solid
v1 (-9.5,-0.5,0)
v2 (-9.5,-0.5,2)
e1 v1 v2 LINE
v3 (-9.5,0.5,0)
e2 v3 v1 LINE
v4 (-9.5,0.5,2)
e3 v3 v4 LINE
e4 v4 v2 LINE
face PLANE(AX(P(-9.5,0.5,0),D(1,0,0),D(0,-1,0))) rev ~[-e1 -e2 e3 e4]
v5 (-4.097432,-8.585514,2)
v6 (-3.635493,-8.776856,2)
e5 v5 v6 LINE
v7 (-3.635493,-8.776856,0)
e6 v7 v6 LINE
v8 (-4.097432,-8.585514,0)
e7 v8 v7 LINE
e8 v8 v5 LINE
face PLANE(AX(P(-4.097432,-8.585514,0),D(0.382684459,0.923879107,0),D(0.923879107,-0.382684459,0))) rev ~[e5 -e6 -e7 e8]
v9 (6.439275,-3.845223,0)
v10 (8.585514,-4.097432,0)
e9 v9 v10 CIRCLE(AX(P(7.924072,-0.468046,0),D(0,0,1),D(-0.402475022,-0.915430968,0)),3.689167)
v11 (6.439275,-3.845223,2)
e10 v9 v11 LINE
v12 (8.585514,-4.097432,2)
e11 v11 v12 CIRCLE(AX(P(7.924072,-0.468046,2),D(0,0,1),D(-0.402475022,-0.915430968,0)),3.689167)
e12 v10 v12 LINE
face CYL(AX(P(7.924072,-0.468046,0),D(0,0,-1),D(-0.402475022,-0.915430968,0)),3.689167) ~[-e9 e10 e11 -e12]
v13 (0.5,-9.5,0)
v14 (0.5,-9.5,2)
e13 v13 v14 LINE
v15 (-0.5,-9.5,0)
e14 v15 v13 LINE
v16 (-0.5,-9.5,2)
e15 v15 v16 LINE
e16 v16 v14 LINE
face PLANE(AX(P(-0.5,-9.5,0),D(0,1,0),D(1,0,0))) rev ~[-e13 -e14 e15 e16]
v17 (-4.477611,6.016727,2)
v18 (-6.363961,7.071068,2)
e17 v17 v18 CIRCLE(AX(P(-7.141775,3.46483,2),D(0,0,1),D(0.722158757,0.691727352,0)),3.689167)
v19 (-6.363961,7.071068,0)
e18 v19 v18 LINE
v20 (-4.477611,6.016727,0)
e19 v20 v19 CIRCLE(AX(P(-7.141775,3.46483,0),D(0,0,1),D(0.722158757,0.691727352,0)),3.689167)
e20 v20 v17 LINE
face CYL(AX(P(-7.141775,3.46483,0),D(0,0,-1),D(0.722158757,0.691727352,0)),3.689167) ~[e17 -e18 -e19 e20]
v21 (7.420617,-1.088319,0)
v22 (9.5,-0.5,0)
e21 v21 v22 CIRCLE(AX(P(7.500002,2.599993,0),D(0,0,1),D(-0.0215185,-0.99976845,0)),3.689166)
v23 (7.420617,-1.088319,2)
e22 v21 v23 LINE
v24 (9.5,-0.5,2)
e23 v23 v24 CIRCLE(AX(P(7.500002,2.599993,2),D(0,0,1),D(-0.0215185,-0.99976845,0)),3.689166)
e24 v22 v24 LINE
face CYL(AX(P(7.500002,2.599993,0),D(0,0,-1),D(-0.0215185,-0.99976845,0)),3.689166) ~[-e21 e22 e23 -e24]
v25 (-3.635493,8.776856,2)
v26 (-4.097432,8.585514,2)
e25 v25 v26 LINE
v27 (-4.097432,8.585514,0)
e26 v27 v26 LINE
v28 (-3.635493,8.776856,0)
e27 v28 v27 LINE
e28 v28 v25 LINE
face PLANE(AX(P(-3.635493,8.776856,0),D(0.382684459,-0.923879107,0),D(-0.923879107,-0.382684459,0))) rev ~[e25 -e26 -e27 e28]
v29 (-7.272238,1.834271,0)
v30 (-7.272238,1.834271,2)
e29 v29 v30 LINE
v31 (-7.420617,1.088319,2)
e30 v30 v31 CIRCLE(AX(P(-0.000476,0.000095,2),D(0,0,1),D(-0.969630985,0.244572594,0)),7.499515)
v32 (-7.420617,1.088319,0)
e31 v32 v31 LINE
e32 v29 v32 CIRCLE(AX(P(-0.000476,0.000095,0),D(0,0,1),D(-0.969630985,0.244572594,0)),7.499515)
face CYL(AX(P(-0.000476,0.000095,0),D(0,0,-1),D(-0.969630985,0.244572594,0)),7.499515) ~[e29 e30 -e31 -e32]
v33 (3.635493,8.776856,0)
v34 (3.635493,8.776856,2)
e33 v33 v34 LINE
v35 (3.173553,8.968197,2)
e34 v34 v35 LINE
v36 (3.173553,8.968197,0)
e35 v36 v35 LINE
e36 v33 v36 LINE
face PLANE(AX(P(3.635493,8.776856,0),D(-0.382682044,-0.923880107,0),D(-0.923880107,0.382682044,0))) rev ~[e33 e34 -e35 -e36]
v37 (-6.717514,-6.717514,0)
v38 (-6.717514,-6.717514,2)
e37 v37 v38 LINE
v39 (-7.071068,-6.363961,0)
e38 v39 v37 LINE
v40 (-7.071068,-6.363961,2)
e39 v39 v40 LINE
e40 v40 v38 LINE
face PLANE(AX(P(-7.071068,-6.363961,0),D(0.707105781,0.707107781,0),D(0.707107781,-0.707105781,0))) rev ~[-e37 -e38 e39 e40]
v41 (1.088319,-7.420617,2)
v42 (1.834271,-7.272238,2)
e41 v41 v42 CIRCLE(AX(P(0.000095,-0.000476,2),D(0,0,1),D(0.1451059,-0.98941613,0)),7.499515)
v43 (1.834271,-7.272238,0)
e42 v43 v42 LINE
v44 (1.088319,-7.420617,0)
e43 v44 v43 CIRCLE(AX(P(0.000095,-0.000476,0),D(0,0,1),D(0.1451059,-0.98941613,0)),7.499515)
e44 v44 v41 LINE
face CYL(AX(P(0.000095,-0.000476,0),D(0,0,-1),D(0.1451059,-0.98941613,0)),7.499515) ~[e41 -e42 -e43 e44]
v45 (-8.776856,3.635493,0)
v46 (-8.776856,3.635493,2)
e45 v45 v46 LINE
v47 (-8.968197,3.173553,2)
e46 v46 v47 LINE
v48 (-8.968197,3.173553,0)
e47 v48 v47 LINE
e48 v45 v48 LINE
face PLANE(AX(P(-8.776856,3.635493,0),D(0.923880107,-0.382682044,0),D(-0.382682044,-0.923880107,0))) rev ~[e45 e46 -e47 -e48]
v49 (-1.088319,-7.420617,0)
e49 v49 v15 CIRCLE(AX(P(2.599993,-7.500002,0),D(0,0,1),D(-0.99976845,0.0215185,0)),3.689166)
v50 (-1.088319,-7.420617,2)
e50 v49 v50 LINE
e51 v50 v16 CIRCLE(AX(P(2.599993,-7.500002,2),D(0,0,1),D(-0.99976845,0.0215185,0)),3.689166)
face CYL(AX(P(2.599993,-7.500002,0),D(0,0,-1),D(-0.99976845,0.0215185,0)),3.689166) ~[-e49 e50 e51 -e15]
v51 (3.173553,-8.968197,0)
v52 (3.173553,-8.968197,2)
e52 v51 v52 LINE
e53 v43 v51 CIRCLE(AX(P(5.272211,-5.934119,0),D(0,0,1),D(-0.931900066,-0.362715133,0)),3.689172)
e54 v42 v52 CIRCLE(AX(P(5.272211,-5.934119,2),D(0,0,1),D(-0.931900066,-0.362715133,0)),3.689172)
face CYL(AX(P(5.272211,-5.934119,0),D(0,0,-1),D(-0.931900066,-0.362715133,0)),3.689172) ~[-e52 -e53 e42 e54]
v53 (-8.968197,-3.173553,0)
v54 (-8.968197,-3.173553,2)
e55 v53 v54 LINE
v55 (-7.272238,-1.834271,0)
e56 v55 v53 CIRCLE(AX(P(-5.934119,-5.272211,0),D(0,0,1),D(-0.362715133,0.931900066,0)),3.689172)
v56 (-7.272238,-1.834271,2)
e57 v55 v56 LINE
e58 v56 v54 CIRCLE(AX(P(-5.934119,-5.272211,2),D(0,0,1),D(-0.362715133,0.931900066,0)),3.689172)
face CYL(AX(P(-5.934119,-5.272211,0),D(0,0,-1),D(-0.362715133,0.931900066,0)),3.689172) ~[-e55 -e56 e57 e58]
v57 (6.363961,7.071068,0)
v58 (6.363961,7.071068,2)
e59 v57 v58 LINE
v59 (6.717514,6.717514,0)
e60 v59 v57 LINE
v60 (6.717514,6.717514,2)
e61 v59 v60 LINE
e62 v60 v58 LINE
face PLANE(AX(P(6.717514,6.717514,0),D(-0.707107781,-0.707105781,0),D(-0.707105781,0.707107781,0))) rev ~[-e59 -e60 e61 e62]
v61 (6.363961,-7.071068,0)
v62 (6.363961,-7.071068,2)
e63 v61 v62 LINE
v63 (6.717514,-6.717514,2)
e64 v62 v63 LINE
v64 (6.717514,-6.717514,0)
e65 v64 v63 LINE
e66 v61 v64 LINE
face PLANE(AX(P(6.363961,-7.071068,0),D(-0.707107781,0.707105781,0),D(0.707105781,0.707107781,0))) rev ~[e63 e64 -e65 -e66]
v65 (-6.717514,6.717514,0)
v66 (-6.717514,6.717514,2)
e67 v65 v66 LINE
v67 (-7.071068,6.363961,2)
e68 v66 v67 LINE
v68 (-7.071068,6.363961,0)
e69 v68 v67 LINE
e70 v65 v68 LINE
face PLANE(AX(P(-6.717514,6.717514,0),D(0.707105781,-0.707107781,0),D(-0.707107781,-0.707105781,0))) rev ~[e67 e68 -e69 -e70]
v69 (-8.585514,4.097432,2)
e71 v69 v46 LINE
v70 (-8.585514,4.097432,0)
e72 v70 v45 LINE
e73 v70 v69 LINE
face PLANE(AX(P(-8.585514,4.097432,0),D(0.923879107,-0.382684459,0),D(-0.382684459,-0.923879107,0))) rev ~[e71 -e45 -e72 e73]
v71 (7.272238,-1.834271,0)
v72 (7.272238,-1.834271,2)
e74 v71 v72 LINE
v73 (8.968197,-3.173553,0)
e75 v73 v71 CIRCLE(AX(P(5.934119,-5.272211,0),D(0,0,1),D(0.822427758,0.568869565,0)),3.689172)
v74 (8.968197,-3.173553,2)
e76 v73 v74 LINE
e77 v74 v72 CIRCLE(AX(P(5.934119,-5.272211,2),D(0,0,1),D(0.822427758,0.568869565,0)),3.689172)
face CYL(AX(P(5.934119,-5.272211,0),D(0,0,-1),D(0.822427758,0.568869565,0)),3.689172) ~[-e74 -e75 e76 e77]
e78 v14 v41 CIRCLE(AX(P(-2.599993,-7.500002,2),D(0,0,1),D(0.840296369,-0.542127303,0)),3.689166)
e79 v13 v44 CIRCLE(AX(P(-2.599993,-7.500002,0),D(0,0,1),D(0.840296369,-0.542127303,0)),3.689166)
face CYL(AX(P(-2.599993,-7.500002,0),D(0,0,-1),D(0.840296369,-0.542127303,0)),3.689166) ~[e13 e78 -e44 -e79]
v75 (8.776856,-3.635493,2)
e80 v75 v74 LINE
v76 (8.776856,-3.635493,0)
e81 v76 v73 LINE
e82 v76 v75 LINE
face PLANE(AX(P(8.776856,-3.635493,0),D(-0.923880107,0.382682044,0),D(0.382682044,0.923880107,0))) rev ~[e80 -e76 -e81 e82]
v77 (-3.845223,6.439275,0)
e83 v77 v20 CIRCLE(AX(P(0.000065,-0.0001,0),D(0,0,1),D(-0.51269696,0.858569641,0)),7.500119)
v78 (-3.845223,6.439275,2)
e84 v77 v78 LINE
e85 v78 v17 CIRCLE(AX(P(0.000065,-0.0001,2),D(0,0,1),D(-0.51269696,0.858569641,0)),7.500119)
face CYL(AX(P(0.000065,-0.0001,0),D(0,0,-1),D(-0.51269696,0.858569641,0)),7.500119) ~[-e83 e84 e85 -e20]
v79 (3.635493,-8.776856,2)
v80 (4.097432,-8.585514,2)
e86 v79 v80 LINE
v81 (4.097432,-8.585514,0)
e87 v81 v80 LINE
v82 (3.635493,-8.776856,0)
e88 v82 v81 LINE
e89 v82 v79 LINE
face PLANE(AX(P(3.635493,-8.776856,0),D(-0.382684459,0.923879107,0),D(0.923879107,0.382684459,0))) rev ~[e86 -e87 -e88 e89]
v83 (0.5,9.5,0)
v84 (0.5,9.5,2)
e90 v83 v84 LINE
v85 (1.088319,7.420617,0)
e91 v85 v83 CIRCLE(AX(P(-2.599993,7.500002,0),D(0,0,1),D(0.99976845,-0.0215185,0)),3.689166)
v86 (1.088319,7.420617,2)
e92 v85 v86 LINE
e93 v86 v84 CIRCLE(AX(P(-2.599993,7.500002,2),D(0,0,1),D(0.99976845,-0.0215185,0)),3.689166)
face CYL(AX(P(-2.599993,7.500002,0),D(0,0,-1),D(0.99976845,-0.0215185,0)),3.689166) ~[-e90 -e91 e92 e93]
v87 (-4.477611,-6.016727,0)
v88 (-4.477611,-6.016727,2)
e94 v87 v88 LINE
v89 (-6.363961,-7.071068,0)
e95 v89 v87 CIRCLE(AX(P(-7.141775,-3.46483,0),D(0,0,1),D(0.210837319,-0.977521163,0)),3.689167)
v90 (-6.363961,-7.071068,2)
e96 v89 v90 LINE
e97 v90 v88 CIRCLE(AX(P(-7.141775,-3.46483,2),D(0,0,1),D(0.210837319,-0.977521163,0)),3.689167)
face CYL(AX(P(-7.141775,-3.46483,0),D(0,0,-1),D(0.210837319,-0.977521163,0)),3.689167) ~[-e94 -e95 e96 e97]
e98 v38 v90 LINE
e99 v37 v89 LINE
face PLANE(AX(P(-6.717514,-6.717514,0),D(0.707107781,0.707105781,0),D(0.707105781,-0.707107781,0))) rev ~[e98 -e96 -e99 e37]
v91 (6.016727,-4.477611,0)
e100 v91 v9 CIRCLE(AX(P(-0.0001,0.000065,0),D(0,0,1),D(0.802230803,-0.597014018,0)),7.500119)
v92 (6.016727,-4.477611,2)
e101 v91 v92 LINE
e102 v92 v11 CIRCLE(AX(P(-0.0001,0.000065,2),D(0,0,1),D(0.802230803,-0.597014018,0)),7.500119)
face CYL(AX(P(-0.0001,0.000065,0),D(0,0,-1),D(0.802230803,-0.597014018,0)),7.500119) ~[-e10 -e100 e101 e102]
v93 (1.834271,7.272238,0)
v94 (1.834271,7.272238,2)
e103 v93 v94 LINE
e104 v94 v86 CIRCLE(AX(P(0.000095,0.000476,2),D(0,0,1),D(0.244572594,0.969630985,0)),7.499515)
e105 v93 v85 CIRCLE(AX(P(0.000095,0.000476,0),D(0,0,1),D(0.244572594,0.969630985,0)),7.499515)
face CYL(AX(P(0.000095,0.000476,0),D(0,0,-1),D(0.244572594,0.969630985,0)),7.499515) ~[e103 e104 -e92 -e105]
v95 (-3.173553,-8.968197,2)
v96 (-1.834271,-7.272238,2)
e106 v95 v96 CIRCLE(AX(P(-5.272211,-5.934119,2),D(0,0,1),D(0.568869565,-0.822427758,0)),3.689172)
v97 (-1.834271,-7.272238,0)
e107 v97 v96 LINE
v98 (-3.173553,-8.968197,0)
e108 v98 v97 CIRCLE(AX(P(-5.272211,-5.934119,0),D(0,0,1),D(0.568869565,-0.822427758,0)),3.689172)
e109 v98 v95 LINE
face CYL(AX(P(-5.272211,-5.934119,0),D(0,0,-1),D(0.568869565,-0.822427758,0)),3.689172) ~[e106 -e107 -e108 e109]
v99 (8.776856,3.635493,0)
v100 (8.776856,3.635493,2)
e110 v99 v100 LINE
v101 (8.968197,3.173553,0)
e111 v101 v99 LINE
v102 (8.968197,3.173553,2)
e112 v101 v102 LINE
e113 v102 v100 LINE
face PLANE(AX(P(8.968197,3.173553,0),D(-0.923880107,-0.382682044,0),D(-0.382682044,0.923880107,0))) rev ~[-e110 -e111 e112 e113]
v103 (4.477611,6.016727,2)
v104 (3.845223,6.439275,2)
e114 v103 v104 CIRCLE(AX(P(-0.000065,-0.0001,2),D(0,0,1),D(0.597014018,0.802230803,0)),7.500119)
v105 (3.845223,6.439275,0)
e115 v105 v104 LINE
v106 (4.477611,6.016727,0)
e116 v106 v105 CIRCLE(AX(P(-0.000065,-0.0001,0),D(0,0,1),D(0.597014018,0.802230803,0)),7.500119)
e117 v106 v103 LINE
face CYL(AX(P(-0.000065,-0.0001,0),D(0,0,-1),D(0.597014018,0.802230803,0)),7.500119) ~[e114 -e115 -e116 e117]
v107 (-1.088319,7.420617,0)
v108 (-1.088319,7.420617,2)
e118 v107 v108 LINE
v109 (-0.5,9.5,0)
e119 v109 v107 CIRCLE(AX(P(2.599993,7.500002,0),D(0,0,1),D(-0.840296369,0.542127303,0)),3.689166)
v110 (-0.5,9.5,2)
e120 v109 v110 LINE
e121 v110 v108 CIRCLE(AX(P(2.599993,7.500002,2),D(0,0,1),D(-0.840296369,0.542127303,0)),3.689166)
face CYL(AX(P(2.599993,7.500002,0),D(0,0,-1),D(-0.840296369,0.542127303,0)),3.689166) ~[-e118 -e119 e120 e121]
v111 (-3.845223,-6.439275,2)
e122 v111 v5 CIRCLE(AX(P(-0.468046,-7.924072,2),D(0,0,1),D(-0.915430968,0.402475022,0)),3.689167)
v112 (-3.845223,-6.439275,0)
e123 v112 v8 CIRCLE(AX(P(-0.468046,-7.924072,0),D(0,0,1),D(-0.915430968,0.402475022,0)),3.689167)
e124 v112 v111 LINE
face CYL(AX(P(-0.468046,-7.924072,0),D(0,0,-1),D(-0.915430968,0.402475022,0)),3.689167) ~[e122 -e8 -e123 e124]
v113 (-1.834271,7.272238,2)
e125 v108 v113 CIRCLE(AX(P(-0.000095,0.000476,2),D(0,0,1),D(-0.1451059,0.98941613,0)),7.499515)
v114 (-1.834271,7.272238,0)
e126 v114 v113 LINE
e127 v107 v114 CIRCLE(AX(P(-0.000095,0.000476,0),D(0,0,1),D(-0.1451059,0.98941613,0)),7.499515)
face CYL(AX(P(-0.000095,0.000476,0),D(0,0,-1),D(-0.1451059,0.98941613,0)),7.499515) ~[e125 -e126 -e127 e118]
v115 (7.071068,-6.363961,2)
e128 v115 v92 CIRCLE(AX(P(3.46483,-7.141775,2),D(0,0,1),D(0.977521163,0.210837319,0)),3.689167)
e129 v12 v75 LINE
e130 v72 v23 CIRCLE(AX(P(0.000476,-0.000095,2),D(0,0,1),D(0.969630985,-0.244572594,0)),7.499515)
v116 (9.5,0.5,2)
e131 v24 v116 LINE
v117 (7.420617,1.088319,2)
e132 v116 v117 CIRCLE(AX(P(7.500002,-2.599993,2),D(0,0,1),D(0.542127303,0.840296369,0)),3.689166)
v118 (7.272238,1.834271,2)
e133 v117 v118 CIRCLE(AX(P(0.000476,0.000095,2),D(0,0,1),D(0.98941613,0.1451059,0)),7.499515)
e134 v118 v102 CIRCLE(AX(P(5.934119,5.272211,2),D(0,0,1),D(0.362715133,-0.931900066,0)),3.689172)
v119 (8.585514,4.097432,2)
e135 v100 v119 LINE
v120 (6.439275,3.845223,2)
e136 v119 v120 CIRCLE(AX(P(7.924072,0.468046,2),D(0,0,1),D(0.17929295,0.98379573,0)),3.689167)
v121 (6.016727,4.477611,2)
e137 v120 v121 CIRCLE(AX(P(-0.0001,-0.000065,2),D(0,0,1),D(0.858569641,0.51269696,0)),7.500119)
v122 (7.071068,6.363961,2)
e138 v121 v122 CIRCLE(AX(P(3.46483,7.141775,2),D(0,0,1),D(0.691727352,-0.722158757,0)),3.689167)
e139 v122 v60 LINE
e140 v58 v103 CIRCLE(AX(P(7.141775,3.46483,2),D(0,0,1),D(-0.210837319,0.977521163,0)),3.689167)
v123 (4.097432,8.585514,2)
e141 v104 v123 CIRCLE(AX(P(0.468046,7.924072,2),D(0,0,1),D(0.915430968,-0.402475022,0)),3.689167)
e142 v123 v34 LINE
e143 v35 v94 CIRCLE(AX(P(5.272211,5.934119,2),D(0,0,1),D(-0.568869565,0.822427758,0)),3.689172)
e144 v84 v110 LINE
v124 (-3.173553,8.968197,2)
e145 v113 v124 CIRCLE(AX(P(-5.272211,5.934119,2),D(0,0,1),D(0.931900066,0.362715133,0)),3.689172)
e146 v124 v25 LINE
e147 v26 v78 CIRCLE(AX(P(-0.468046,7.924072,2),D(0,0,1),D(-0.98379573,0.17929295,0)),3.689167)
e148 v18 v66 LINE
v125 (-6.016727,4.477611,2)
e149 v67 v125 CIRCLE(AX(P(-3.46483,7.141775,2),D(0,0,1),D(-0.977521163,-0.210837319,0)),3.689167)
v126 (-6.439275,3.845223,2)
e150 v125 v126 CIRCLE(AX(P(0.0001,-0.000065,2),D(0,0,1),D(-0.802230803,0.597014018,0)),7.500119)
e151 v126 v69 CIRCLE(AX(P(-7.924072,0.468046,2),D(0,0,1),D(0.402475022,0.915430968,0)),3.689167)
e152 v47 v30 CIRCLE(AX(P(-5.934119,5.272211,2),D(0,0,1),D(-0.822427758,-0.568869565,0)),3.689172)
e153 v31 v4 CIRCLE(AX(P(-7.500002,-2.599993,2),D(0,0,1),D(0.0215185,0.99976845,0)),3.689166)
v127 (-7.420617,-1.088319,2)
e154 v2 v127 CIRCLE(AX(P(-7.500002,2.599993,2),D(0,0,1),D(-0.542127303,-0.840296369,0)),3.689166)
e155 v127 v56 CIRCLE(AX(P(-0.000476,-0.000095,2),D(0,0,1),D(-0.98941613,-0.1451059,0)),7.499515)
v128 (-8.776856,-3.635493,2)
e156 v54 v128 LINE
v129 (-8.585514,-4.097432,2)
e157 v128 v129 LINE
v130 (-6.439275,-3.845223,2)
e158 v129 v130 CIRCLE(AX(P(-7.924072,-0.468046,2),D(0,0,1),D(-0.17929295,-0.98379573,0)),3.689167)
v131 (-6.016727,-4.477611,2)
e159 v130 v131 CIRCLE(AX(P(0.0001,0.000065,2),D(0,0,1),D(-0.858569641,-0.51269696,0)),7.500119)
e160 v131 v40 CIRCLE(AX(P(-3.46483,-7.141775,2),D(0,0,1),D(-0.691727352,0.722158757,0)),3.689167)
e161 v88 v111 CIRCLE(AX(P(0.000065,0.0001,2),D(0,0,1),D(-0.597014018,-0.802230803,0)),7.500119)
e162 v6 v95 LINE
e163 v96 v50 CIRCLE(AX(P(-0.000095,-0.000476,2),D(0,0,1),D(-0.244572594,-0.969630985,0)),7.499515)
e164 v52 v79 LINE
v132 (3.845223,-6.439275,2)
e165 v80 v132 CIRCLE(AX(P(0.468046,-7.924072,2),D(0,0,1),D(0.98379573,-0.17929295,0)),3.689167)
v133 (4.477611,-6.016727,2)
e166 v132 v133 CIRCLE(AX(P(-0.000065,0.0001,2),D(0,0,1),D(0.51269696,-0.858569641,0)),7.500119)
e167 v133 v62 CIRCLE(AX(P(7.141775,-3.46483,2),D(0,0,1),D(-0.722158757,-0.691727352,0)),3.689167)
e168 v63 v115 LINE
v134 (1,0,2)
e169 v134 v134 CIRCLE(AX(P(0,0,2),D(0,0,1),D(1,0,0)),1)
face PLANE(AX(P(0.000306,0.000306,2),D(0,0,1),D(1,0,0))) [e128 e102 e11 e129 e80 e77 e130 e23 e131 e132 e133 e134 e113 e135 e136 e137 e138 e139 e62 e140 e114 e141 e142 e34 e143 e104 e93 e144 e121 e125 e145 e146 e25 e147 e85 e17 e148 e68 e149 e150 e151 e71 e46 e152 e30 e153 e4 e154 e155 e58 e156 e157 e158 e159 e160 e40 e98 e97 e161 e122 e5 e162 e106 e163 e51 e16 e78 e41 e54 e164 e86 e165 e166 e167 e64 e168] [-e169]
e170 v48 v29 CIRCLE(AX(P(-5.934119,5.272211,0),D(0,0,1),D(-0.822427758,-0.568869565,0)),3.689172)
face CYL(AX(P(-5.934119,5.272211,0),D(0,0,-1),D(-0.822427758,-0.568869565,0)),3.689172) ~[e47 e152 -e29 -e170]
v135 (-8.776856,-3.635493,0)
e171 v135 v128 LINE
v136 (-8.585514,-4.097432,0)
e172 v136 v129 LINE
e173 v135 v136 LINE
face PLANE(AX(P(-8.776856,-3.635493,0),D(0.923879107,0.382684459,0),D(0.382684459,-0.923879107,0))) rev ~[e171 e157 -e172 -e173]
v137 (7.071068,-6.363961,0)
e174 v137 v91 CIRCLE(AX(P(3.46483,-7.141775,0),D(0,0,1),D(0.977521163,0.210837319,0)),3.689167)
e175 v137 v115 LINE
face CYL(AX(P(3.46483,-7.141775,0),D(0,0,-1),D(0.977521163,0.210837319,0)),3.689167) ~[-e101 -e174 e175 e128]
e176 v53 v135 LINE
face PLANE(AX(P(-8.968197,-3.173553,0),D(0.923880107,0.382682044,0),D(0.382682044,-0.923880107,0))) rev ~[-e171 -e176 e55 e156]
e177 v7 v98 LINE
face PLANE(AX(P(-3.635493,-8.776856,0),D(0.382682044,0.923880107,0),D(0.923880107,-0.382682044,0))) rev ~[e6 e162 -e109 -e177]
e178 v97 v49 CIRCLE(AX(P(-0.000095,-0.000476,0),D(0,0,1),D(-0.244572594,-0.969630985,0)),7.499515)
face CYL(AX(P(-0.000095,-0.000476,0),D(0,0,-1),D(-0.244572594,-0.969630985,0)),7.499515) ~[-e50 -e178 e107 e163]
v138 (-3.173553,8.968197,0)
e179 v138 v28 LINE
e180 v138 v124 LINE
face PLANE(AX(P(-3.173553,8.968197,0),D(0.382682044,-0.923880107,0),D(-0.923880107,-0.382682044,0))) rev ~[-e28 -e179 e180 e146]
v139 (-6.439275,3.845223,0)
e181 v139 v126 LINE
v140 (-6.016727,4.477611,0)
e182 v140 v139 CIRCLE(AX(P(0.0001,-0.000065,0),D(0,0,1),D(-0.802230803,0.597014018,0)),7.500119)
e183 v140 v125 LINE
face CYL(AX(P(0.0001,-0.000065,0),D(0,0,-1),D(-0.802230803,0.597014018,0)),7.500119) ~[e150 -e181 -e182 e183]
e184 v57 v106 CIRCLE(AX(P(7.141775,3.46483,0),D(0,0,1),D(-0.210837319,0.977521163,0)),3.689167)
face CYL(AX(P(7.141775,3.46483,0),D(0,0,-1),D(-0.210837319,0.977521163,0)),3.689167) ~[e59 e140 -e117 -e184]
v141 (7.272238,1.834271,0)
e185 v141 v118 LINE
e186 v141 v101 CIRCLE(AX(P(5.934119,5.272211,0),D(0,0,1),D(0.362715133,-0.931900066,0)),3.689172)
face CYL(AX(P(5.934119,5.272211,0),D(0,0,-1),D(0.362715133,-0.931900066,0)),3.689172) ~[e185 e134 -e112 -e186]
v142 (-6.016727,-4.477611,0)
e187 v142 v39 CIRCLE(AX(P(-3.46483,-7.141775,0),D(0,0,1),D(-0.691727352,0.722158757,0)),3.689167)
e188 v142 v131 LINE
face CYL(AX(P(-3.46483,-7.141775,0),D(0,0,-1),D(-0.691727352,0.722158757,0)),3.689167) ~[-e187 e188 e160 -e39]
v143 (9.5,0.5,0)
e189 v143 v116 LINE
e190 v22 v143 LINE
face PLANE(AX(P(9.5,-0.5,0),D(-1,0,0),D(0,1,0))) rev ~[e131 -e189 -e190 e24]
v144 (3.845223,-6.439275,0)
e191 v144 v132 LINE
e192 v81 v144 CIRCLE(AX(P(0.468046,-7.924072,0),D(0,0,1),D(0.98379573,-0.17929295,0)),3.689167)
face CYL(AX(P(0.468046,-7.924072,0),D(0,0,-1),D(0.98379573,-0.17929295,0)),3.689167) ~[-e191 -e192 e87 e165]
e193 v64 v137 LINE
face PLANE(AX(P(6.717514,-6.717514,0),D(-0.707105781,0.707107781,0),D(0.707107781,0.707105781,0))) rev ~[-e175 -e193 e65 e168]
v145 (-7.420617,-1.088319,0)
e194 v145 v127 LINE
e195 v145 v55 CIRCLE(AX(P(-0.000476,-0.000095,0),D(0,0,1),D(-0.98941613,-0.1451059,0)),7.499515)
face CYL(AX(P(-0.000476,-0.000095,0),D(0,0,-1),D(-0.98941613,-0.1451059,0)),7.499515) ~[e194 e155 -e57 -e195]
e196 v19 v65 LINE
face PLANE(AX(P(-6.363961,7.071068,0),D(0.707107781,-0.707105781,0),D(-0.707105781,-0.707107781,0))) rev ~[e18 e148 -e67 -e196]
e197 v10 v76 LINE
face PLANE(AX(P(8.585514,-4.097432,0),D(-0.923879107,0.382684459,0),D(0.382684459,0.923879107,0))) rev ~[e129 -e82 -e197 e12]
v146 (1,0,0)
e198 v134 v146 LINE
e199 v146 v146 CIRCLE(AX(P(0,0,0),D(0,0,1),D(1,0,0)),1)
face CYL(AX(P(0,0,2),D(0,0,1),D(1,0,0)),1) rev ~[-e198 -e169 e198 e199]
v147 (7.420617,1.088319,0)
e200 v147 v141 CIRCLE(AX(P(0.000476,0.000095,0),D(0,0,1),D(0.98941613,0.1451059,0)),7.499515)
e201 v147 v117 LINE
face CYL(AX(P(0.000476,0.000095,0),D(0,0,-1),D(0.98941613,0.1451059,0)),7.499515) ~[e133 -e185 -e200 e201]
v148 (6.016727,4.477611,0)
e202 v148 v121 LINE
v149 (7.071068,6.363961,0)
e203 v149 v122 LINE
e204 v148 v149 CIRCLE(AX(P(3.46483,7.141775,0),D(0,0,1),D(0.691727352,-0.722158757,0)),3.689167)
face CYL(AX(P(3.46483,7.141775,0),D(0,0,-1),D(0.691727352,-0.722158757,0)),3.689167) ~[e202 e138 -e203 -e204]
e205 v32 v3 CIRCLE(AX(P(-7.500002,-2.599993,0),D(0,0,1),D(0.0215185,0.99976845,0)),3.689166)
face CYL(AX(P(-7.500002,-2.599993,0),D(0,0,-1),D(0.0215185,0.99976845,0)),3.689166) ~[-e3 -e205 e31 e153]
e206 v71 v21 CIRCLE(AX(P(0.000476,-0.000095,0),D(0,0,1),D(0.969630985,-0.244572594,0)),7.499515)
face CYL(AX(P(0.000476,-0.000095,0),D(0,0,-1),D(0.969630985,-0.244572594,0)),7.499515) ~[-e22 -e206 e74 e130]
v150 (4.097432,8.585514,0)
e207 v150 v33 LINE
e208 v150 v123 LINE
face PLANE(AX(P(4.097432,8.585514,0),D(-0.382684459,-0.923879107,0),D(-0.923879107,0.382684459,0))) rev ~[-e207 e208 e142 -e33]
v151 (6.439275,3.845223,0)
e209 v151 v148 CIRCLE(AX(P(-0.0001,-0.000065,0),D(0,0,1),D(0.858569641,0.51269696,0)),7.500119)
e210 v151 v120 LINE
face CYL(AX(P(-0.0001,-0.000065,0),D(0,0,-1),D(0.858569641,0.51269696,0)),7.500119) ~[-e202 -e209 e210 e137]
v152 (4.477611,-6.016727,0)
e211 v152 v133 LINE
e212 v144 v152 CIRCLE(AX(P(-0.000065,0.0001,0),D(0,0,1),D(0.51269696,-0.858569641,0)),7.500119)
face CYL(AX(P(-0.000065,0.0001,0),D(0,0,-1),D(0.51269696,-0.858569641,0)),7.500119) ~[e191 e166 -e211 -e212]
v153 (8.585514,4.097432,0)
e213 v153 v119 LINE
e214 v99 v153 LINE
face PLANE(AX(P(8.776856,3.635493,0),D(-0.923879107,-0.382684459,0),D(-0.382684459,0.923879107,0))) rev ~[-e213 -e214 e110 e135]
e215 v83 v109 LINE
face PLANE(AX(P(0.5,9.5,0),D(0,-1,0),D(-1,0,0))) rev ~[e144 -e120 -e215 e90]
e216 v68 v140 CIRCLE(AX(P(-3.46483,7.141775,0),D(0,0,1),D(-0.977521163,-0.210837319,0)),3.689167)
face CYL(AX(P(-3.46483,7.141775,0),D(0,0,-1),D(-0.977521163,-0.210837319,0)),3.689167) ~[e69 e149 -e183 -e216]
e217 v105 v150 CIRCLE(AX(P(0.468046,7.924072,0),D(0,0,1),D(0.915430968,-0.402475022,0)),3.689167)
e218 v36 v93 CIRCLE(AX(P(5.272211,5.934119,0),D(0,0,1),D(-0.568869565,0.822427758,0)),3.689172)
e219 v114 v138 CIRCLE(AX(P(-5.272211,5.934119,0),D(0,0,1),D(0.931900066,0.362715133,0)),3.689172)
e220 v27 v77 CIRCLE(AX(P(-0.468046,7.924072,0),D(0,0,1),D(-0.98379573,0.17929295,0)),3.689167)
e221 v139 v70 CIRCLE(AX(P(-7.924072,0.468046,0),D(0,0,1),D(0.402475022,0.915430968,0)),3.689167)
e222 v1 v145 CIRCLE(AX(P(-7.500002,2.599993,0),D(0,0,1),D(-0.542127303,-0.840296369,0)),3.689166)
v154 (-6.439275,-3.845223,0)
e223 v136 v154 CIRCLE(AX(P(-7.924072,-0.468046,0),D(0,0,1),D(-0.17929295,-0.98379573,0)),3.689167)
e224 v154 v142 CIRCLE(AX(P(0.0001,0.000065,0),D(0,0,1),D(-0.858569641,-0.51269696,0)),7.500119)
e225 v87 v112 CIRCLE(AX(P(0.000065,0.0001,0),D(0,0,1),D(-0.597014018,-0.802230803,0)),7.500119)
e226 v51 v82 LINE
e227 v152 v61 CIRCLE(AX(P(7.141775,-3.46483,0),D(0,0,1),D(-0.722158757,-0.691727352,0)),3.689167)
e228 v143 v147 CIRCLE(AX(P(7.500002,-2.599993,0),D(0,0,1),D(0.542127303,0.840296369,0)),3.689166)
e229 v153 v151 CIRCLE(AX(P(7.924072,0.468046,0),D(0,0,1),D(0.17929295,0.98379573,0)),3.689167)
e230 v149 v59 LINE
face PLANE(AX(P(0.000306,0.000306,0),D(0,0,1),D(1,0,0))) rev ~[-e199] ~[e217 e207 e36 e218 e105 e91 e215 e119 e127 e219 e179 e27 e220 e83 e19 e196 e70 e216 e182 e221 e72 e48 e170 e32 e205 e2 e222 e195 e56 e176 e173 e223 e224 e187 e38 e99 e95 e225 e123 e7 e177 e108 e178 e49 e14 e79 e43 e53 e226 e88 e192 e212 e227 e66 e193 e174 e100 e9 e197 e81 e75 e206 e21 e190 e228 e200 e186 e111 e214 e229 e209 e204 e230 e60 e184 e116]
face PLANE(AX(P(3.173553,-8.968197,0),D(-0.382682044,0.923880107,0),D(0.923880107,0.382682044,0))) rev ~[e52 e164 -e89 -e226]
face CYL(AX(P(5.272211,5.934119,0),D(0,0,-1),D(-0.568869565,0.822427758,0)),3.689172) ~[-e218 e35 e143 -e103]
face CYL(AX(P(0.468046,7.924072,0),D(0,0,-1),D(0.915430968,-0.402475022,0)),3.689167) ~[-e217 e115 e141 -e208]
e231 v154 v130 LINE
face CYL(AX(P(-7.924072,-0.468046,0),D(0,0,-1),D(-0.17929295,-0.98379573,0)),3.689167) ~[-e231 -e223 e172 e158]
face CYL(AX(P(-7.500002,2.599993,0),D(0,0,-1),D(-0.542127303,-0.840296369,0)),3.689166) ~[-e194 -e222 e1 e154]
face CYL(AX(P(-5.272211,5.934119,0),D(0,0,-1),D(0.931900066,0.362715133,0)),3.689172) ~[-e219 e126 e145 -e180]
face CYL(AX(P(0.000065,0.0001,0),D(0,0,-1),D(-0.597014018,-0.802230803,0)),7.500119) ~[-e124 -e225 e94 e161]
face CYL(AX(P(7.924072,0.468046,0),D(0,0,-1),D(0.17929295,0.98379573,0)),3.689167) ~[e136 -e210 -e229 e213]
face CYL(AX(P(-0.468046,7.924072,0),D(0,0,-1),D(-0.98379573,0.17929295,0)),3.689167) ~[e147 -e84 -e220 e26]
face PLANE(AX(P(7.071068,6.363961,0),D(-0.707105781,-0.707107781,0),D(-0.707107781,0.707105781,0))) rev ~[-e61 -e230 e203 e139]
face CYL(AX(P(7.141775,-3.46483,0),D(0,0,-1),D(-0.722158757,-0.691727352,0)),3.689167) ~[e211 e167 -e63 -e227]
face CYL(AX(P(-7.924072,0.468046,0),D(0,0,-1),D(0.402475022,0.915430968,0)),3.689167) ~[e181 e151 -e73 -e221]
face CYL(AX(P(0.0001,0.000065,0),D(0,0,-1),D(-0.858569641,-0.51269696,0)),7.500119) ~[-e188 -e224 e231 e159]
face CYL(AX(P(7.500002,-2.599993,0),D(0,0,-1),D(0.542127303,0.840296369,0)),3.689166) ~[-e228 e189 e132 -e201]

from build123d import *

# Parameters (mm, degrees)
F1_DEPTH = 2
F2_R     = 1
F3_DEPTH = 2.001


with BuildPart() as f1:
    # F0 (on Top) → F1 (new body)
    with BuildSketch(Plane.XY):
        with BuildLine():
            ThreePointArc((7.420617, -1.088319), (7.480128, -0.545605), (7.5, 0))
            ThreePointArc((7.5, 0), (7.480128, 0.545605), (7.420617, 1.088319))
            ThreePointArc((7.420617, 1.088319), (7.35589, 1.463177), (7.272238, 1.834271))
            ThreePointArc((7.272238, 1.834271), (6.929096, 2.870126), (6.439275, 3.845223))
            ThreePointArc((6.439275, 3.845223), (6.236022, 4.166777), (6.016727, 4.477611))
            ThreePointArc((6.016727, 4.477611), (5.303301, 5.303301), (4.477611, 6.016727))
            ThreePointArc((4.477611, 6.016727), (4.166777, 6.236022), (3.845223, 6.439275))
            ThreePointArc((3.845223, 6.439275), (2.870126, 6.929096), (1.834271, 7.272238))
            ThreePointArc((1.834271, 7.272238), (1.463177, 7.35589), (1.088319, 7.420617))
            ThreePointArc((1.088319, 7.420617), (0.545605, 7.480128), (0, 7.5))
            ThreePointArc((0, 7.5), (-0.545605, 7.480128), (-1.088319, 7.420617))
            ThreePointArc((-1.088319, 7.420617), (-1.463177, 7.35589), (-1.834271, 7.272238))
            ThreePointArc((-1.834271, 7.272238), (-2.870126, 6.929096), (-3.845223, 6.439275))
            ThreePointArc((-3.845223, 6.439275), (-4.166777, 6.236022), (-4.477611, 6.016727))
            ThreePointArc((-4.477611, 6.016727), (-5.303301, 5.303301), (-6.016727, 4.477611))
            ThreePointArc((-6.016727, 4.477611), (-6.236022, 4.166777), (-6.439275, 3.845223))
            ThreePointArc((-6.439275, 3.845223), (-6.929096, 2.870126), (-7.272238, 1.834271))
            ThreePointArc((-7.272238, 1.834271), (-7.35589, 1.463177), (-7.420617, 1.088319))
            ThreePointArc((-7.420617, 1.088319), (-7.5, 0), (-7.420617, -1.088319))
            ThreePointArc((-7.420617, -1.088319), (-7.35589, -1.463177), (-7.272238, -1.834271))
            ThreePointArc((-7.272238, -1.834271), (-6.929096, -2.870126), (-6.439275, -3.845223))
            ThreePointArc((-6.439275, -3.845223), (-6.236022, -4.166777), (-6.016727, -4.477611))
            ThreePointArc((-6.016727, -4.477611), (-5.303301, -5.303301), (-4.477611, -6.016727))
            ThreePointArc((-4.477611, -6.016727), (-4.166777, -6.236022), (-3.845223, -6.439275))
            ThreePointArc((-3.845223, -6.439275), (-2.870126, -6.929096), (-1.834271, -7.272238))
            ThreePointArc((-1.834271, -7.272238), (-1.463177, -7.35589), (-1.088319, -7.420617))
            ThreePointArc((-1.088319, -7.420617), (0, -7.5), (1.088319, -7.420617))
            ThreePointArc((1.088319, -7.420617), (1.463177, -7.35589), (1.834271, -7.272238))
            ThreePointArc((1.834271, -7.272238), (2.870126, -6.929096), (3.845223, -6.439275))
            ThreePointArc((3.845223, -6.439275), (4.166777, -6.236022), (4.477611, -6.016727))
            ThreePointArc((4.477611, -6.016727), (5.303301, -5.303301), (6.016727, -4.477611))
            ThreePointArc((6.016727, -4.477611), (6.236022, -4.166777), (6.439275, -3.845223))
            ThreePointArc((6.439275, -3.845223), (6.929096, -2.870126), (7.272238, -1.834271))
            ThreePointArc((7.272238, -1.834271), (7.35589, -1.463177), (7.420617, -1.088319))
        make_face()
        with BuildLine():
            ThreePointArc((7.420617, 1.088319), (7.480128, 0.545605), (7.5, 0))
            ThreePointArc((7.5, 0), (7.480128, -0.545605), (7.420617, -1.088319))
            ThreePointArc((7.420617, -1.088319), (8.504352, -0.949828), (9.5, -0.5))
            Line((9.5, -0.5), (9.5, 0))
            Line((9.5, 0), (9.5, 0.5))
            ThreePointArc((9.5, 0.5), (8.504352, 0.949828), (7.420617, 1.088319))
        make_face()
        with BuildLine():
            ThreePointArc((6.439275, 3.845223), (6.929096, 2.870126), (7.272238, 1.834271))
            ThreePointArc((7.272238, 1.834271), (8.22048, 2.376948), (8.968197, 3.173553))
            Line((8.968197, 3.173553), (8.776856, 3.635493))
            Line((8.776856, 3.635493), (8.585514, 4.097432))
            ThreePointArc((8.585514, 4.097432), (7.493513, 4.132001), (6.439275, 3.845223))
        make_face()
        with BuildLine():
            ThreePointArc((8.968197, -3.173553), (8.22048, -2.376948), (7.272238, -1.834271))
            ThreePointArc((7.272238, -1.834271), (6.929096, -2.870126), (6.439275, -3.845223))
            ThreePointArc((6.439275, -3.845223), (7.493513, -4.132001), (8.585514, -4.097432))
            Line((8.585514, -4.097432), (8.776856, -3.635493))
            Line((8.776856, -3.635493), (8.968197, -3.173553))
        make_face()
        with BuildLine():
            ThreePointArc((4.477611, 6.016727), (5.303301, 5.303301), (6.016727, 4.477611))
            ThreePointArc((6.016727, 4.477611), (6.685115, 5.341855), (7.071068, 6.363961))
            Line((7.071068, 6.363961), (6.717514, 6.717514))
            Line((6.717514, 6.717514), (6.363961, 7.071068))
            ThreePointArc((6.363961, 7.071068), (5.341855, 6.685115), (4.477611, 6.016727))
        make_face()
        with BuildLine():
            ThreePointArc((7.071068, -6.363961), (6.685115, -5.341855), (6.016727, -4.477611))
            ThreePointArc((6.016727, -4.477611), (5.303301, -5.303301), (4.477611, -6.016727))
            ThreePointArc((4.477611, -6.016727), (5.341855, -6.685115), (6.363961, -7.071068))
            Line((6.363961, -7.071068), (6.717514, -6.717514))
            Line((6.717514, -6.717514), (7.071068, -6.363961))
        make_face()
        with BuildLine():
            ThreePointArc((1.834271, 7.272238), (2.870126, 6.929096), (3.845223, 6.439275))
            ThreePointArc((3.845223, 6.439275), (4.132001, 7.493513), (4.097432, 8.585514))
            Line((4.097432, 8.585514), (3.635493, 8.776856))
            Line((3.635493, 8.776856), (3.173553, 8.968197))
            ThreePointArc((3.173553, 8.968197), (2.376948, 8.22048), (1.834271, 7.272238))
        make_face()
        with BuildLine():
            ThreePointArc((4.097432, -8.585514), (4.132001, -7.493513), (3.845223, -6.439275))
            ThreePointArc((3.845223, -6.439275), (2.870126, -6.929096), (1.834271, -7.272238))
            ThreePointArc((1.834271, -7.272238), (2.376948, -8.22048), (3.173553, -8.968197))
            Line((3.173553, -8.968197), (3.635493, -8.776856))
            Line((3.635493, -8.776856), (4.097432, -8.585514))
        make_face()
        with BuildLine():
            ThreePointArc((0, 7.5), (0.545605, 7.480128), (1.088319, 7.420617))
            ThreePointArc((1.088319, 7.420617), (0.949828, 8.504352), (0.5, 9.5))
            Line((0.5, 9.5), (0, 9.5))
            Line((0, 9.5), (0, 7.5))
        make_face()
        with BuildLine():
            ThreePointArc((0.5, -9.5), (0.949828, -8.504352), (1.088319, -7.420617))
            ThreePointArc((1.088319, -7.420617), (0, -7.5), (-1.088319, -7.420617))
            ThreePointArc((-1.088319, -7.420617), (-0.949828, -8.504352), (-0.5, -9.5))
            Line((-0.5, -9.5), (0, -9.5))
            Line((0, -9.5), (0.5, -9.5))
        make_face()
        with BuildLine():
            ThreePointArc((-1.088319, 7.420617), (-0.545605, 7.480128), (0, 7.5))
            Line((0, 7.5), (0, 9.5))
            Line((0, 9.5), (-0.5, 9.5))
            ThreePointArc((-0.5, 9.5), (-0.949828, 8.504352), (-1.088319, 7.420617))
        make_face()
        with BuildLine():
            ThreePointArc((-3.173553, -8.968197), (-2.376948, -8.22048), (-1.834271, -7.272238))
            ThreePointArc((-1.834271, -7.272238), (-2.870126, -6.929096), (-3.845223, -6.439275))
            ThreePointArc((-3.845223, -6.439275), (-4.132001, -7.493513), (-4.097432, -8.585514))
            Line((-4.097432, -8.585514), (-3.635493, -8.776856))
            Line((-3.635493, -8.776856), (-3.173553, -8.968197))
        make_face()
        with BuildLine():
            ThreePointArc((-3.845223, 6.439275), (-2.870126, 6.929096), (-1.834271, 7.272238))
            ThreePointArc((-1.834271, 7.272238), (-2.376948, 8.22048), (-3.173553, 8.968197))
            Line((-3.173553, 8.968197), (-3.635493, 8.776856))
            Line((-3.635493, 8.776856), (-4.097432, 8.585514))
            ThreePointArc((-4.097432, 8.585514), (-4.132001, 7.493513), (-3.845223, 6.439275))
        make_face()
        with BuildLine():
            ThreePointArc((-6.363961, -7.071068), (-5.341855, -6.685115), (-4.477611, -6.016727))
            ThreePointArc((-4.477611, -6.016727), (-5.303301, -5.303301), (-6.016727, -4.477611))
            ThreePointArc((-6.016727, -4.477611), (-6.685115, -5.341855), (-7.071068, -6.363961))
            Line((-7.071068, -6.363961), (-6.717514, -6.717514))
            Line((-6.717514, -6.717514), (-6.363961, -7.071068))
        make_face()
        with BuildLine():
            ThreePointArc((-6.016727, 4.477611), (-5.303301, 5.303301), (-4.477611, 6.016727))
            ThreePointArc((-4.477611, 6.016727), (-5.341855, 6.685115), (-6.363961, 7.071068))
            Line((-6.363961, 7.071068), (-6.717514, 6.717514))
            Line((-6.717514, 6.717514), (-7.071068, 6.363961))
            ThreePointArc((-7.071068, 6.363961), (-6.685115, 5.341855), (-6.016727, 4.477611))
        make_face()
        with BuildLine():
            ThreePointArc((-8.585514, -4.097432), (-7.493513, -4.132001), (-6.439275, -3.845223))
            ThreePointArc((-6.439275, -3.845223), (-6.929096, -2.870126), (-7.272238, -1.834271))
            ThreePointArc((-7.272238, -1.834271), (-8.22048, -2.376948), (-8.968197, -3.173553))
            Line((-8.968197, -3.173553), (-8.776856, -3.635493))
            Line((-8.776856, -3.635493), (-8.585514, -4.097432))
        make_face()
        with BuildLine():
            ThreePointArc((-7.272238, 1.834271), (-6.929096, 2.870126), (-6.439275, 3.845223))
            ThreePointArc((-6.439275, 3.845223), (-7.493513, 4.132001), (-8.585514, 4.097432))
            Line((-8.585514, 4.097432), (-8.776856, 3.635493))
            Line((-8.776856, 3.635493), (-8.968197, 3.173553))
            ThreePointArc((-8.968197, 3.173553), (-8.22048, 2.376948), (-7.272238, 1.834271))
        make_face()
        with BuildLine():
            ThreePointArc((-9.5, -0.5), (-8.504352, -0.949828), (-7.420617, -1.088319))
            ThreePointArc((-7.420617, -1.088319), (-7.5, 0), (-7.420617, 1.088319))
            ThreePointArc((-7.420617, 1.088319), (-8.504352, 0.949828), (-9.5, 0.5))
            Line((-9.5, 0.5), (-9.5, 0))
            Line((-9.5, 0), (-9.5, -0.5))
        make_face()
    extrude(amount=F1_DEPTH)

    # F2 (on face) → F3 (cut, through all)
    with BuildSketch(Plane.XY.offset(2)):
        Circle(F2_R)
    extrude(amount=-F3_DEPTH, mode=Mode.SUBTRACT)


solid = f1.part
